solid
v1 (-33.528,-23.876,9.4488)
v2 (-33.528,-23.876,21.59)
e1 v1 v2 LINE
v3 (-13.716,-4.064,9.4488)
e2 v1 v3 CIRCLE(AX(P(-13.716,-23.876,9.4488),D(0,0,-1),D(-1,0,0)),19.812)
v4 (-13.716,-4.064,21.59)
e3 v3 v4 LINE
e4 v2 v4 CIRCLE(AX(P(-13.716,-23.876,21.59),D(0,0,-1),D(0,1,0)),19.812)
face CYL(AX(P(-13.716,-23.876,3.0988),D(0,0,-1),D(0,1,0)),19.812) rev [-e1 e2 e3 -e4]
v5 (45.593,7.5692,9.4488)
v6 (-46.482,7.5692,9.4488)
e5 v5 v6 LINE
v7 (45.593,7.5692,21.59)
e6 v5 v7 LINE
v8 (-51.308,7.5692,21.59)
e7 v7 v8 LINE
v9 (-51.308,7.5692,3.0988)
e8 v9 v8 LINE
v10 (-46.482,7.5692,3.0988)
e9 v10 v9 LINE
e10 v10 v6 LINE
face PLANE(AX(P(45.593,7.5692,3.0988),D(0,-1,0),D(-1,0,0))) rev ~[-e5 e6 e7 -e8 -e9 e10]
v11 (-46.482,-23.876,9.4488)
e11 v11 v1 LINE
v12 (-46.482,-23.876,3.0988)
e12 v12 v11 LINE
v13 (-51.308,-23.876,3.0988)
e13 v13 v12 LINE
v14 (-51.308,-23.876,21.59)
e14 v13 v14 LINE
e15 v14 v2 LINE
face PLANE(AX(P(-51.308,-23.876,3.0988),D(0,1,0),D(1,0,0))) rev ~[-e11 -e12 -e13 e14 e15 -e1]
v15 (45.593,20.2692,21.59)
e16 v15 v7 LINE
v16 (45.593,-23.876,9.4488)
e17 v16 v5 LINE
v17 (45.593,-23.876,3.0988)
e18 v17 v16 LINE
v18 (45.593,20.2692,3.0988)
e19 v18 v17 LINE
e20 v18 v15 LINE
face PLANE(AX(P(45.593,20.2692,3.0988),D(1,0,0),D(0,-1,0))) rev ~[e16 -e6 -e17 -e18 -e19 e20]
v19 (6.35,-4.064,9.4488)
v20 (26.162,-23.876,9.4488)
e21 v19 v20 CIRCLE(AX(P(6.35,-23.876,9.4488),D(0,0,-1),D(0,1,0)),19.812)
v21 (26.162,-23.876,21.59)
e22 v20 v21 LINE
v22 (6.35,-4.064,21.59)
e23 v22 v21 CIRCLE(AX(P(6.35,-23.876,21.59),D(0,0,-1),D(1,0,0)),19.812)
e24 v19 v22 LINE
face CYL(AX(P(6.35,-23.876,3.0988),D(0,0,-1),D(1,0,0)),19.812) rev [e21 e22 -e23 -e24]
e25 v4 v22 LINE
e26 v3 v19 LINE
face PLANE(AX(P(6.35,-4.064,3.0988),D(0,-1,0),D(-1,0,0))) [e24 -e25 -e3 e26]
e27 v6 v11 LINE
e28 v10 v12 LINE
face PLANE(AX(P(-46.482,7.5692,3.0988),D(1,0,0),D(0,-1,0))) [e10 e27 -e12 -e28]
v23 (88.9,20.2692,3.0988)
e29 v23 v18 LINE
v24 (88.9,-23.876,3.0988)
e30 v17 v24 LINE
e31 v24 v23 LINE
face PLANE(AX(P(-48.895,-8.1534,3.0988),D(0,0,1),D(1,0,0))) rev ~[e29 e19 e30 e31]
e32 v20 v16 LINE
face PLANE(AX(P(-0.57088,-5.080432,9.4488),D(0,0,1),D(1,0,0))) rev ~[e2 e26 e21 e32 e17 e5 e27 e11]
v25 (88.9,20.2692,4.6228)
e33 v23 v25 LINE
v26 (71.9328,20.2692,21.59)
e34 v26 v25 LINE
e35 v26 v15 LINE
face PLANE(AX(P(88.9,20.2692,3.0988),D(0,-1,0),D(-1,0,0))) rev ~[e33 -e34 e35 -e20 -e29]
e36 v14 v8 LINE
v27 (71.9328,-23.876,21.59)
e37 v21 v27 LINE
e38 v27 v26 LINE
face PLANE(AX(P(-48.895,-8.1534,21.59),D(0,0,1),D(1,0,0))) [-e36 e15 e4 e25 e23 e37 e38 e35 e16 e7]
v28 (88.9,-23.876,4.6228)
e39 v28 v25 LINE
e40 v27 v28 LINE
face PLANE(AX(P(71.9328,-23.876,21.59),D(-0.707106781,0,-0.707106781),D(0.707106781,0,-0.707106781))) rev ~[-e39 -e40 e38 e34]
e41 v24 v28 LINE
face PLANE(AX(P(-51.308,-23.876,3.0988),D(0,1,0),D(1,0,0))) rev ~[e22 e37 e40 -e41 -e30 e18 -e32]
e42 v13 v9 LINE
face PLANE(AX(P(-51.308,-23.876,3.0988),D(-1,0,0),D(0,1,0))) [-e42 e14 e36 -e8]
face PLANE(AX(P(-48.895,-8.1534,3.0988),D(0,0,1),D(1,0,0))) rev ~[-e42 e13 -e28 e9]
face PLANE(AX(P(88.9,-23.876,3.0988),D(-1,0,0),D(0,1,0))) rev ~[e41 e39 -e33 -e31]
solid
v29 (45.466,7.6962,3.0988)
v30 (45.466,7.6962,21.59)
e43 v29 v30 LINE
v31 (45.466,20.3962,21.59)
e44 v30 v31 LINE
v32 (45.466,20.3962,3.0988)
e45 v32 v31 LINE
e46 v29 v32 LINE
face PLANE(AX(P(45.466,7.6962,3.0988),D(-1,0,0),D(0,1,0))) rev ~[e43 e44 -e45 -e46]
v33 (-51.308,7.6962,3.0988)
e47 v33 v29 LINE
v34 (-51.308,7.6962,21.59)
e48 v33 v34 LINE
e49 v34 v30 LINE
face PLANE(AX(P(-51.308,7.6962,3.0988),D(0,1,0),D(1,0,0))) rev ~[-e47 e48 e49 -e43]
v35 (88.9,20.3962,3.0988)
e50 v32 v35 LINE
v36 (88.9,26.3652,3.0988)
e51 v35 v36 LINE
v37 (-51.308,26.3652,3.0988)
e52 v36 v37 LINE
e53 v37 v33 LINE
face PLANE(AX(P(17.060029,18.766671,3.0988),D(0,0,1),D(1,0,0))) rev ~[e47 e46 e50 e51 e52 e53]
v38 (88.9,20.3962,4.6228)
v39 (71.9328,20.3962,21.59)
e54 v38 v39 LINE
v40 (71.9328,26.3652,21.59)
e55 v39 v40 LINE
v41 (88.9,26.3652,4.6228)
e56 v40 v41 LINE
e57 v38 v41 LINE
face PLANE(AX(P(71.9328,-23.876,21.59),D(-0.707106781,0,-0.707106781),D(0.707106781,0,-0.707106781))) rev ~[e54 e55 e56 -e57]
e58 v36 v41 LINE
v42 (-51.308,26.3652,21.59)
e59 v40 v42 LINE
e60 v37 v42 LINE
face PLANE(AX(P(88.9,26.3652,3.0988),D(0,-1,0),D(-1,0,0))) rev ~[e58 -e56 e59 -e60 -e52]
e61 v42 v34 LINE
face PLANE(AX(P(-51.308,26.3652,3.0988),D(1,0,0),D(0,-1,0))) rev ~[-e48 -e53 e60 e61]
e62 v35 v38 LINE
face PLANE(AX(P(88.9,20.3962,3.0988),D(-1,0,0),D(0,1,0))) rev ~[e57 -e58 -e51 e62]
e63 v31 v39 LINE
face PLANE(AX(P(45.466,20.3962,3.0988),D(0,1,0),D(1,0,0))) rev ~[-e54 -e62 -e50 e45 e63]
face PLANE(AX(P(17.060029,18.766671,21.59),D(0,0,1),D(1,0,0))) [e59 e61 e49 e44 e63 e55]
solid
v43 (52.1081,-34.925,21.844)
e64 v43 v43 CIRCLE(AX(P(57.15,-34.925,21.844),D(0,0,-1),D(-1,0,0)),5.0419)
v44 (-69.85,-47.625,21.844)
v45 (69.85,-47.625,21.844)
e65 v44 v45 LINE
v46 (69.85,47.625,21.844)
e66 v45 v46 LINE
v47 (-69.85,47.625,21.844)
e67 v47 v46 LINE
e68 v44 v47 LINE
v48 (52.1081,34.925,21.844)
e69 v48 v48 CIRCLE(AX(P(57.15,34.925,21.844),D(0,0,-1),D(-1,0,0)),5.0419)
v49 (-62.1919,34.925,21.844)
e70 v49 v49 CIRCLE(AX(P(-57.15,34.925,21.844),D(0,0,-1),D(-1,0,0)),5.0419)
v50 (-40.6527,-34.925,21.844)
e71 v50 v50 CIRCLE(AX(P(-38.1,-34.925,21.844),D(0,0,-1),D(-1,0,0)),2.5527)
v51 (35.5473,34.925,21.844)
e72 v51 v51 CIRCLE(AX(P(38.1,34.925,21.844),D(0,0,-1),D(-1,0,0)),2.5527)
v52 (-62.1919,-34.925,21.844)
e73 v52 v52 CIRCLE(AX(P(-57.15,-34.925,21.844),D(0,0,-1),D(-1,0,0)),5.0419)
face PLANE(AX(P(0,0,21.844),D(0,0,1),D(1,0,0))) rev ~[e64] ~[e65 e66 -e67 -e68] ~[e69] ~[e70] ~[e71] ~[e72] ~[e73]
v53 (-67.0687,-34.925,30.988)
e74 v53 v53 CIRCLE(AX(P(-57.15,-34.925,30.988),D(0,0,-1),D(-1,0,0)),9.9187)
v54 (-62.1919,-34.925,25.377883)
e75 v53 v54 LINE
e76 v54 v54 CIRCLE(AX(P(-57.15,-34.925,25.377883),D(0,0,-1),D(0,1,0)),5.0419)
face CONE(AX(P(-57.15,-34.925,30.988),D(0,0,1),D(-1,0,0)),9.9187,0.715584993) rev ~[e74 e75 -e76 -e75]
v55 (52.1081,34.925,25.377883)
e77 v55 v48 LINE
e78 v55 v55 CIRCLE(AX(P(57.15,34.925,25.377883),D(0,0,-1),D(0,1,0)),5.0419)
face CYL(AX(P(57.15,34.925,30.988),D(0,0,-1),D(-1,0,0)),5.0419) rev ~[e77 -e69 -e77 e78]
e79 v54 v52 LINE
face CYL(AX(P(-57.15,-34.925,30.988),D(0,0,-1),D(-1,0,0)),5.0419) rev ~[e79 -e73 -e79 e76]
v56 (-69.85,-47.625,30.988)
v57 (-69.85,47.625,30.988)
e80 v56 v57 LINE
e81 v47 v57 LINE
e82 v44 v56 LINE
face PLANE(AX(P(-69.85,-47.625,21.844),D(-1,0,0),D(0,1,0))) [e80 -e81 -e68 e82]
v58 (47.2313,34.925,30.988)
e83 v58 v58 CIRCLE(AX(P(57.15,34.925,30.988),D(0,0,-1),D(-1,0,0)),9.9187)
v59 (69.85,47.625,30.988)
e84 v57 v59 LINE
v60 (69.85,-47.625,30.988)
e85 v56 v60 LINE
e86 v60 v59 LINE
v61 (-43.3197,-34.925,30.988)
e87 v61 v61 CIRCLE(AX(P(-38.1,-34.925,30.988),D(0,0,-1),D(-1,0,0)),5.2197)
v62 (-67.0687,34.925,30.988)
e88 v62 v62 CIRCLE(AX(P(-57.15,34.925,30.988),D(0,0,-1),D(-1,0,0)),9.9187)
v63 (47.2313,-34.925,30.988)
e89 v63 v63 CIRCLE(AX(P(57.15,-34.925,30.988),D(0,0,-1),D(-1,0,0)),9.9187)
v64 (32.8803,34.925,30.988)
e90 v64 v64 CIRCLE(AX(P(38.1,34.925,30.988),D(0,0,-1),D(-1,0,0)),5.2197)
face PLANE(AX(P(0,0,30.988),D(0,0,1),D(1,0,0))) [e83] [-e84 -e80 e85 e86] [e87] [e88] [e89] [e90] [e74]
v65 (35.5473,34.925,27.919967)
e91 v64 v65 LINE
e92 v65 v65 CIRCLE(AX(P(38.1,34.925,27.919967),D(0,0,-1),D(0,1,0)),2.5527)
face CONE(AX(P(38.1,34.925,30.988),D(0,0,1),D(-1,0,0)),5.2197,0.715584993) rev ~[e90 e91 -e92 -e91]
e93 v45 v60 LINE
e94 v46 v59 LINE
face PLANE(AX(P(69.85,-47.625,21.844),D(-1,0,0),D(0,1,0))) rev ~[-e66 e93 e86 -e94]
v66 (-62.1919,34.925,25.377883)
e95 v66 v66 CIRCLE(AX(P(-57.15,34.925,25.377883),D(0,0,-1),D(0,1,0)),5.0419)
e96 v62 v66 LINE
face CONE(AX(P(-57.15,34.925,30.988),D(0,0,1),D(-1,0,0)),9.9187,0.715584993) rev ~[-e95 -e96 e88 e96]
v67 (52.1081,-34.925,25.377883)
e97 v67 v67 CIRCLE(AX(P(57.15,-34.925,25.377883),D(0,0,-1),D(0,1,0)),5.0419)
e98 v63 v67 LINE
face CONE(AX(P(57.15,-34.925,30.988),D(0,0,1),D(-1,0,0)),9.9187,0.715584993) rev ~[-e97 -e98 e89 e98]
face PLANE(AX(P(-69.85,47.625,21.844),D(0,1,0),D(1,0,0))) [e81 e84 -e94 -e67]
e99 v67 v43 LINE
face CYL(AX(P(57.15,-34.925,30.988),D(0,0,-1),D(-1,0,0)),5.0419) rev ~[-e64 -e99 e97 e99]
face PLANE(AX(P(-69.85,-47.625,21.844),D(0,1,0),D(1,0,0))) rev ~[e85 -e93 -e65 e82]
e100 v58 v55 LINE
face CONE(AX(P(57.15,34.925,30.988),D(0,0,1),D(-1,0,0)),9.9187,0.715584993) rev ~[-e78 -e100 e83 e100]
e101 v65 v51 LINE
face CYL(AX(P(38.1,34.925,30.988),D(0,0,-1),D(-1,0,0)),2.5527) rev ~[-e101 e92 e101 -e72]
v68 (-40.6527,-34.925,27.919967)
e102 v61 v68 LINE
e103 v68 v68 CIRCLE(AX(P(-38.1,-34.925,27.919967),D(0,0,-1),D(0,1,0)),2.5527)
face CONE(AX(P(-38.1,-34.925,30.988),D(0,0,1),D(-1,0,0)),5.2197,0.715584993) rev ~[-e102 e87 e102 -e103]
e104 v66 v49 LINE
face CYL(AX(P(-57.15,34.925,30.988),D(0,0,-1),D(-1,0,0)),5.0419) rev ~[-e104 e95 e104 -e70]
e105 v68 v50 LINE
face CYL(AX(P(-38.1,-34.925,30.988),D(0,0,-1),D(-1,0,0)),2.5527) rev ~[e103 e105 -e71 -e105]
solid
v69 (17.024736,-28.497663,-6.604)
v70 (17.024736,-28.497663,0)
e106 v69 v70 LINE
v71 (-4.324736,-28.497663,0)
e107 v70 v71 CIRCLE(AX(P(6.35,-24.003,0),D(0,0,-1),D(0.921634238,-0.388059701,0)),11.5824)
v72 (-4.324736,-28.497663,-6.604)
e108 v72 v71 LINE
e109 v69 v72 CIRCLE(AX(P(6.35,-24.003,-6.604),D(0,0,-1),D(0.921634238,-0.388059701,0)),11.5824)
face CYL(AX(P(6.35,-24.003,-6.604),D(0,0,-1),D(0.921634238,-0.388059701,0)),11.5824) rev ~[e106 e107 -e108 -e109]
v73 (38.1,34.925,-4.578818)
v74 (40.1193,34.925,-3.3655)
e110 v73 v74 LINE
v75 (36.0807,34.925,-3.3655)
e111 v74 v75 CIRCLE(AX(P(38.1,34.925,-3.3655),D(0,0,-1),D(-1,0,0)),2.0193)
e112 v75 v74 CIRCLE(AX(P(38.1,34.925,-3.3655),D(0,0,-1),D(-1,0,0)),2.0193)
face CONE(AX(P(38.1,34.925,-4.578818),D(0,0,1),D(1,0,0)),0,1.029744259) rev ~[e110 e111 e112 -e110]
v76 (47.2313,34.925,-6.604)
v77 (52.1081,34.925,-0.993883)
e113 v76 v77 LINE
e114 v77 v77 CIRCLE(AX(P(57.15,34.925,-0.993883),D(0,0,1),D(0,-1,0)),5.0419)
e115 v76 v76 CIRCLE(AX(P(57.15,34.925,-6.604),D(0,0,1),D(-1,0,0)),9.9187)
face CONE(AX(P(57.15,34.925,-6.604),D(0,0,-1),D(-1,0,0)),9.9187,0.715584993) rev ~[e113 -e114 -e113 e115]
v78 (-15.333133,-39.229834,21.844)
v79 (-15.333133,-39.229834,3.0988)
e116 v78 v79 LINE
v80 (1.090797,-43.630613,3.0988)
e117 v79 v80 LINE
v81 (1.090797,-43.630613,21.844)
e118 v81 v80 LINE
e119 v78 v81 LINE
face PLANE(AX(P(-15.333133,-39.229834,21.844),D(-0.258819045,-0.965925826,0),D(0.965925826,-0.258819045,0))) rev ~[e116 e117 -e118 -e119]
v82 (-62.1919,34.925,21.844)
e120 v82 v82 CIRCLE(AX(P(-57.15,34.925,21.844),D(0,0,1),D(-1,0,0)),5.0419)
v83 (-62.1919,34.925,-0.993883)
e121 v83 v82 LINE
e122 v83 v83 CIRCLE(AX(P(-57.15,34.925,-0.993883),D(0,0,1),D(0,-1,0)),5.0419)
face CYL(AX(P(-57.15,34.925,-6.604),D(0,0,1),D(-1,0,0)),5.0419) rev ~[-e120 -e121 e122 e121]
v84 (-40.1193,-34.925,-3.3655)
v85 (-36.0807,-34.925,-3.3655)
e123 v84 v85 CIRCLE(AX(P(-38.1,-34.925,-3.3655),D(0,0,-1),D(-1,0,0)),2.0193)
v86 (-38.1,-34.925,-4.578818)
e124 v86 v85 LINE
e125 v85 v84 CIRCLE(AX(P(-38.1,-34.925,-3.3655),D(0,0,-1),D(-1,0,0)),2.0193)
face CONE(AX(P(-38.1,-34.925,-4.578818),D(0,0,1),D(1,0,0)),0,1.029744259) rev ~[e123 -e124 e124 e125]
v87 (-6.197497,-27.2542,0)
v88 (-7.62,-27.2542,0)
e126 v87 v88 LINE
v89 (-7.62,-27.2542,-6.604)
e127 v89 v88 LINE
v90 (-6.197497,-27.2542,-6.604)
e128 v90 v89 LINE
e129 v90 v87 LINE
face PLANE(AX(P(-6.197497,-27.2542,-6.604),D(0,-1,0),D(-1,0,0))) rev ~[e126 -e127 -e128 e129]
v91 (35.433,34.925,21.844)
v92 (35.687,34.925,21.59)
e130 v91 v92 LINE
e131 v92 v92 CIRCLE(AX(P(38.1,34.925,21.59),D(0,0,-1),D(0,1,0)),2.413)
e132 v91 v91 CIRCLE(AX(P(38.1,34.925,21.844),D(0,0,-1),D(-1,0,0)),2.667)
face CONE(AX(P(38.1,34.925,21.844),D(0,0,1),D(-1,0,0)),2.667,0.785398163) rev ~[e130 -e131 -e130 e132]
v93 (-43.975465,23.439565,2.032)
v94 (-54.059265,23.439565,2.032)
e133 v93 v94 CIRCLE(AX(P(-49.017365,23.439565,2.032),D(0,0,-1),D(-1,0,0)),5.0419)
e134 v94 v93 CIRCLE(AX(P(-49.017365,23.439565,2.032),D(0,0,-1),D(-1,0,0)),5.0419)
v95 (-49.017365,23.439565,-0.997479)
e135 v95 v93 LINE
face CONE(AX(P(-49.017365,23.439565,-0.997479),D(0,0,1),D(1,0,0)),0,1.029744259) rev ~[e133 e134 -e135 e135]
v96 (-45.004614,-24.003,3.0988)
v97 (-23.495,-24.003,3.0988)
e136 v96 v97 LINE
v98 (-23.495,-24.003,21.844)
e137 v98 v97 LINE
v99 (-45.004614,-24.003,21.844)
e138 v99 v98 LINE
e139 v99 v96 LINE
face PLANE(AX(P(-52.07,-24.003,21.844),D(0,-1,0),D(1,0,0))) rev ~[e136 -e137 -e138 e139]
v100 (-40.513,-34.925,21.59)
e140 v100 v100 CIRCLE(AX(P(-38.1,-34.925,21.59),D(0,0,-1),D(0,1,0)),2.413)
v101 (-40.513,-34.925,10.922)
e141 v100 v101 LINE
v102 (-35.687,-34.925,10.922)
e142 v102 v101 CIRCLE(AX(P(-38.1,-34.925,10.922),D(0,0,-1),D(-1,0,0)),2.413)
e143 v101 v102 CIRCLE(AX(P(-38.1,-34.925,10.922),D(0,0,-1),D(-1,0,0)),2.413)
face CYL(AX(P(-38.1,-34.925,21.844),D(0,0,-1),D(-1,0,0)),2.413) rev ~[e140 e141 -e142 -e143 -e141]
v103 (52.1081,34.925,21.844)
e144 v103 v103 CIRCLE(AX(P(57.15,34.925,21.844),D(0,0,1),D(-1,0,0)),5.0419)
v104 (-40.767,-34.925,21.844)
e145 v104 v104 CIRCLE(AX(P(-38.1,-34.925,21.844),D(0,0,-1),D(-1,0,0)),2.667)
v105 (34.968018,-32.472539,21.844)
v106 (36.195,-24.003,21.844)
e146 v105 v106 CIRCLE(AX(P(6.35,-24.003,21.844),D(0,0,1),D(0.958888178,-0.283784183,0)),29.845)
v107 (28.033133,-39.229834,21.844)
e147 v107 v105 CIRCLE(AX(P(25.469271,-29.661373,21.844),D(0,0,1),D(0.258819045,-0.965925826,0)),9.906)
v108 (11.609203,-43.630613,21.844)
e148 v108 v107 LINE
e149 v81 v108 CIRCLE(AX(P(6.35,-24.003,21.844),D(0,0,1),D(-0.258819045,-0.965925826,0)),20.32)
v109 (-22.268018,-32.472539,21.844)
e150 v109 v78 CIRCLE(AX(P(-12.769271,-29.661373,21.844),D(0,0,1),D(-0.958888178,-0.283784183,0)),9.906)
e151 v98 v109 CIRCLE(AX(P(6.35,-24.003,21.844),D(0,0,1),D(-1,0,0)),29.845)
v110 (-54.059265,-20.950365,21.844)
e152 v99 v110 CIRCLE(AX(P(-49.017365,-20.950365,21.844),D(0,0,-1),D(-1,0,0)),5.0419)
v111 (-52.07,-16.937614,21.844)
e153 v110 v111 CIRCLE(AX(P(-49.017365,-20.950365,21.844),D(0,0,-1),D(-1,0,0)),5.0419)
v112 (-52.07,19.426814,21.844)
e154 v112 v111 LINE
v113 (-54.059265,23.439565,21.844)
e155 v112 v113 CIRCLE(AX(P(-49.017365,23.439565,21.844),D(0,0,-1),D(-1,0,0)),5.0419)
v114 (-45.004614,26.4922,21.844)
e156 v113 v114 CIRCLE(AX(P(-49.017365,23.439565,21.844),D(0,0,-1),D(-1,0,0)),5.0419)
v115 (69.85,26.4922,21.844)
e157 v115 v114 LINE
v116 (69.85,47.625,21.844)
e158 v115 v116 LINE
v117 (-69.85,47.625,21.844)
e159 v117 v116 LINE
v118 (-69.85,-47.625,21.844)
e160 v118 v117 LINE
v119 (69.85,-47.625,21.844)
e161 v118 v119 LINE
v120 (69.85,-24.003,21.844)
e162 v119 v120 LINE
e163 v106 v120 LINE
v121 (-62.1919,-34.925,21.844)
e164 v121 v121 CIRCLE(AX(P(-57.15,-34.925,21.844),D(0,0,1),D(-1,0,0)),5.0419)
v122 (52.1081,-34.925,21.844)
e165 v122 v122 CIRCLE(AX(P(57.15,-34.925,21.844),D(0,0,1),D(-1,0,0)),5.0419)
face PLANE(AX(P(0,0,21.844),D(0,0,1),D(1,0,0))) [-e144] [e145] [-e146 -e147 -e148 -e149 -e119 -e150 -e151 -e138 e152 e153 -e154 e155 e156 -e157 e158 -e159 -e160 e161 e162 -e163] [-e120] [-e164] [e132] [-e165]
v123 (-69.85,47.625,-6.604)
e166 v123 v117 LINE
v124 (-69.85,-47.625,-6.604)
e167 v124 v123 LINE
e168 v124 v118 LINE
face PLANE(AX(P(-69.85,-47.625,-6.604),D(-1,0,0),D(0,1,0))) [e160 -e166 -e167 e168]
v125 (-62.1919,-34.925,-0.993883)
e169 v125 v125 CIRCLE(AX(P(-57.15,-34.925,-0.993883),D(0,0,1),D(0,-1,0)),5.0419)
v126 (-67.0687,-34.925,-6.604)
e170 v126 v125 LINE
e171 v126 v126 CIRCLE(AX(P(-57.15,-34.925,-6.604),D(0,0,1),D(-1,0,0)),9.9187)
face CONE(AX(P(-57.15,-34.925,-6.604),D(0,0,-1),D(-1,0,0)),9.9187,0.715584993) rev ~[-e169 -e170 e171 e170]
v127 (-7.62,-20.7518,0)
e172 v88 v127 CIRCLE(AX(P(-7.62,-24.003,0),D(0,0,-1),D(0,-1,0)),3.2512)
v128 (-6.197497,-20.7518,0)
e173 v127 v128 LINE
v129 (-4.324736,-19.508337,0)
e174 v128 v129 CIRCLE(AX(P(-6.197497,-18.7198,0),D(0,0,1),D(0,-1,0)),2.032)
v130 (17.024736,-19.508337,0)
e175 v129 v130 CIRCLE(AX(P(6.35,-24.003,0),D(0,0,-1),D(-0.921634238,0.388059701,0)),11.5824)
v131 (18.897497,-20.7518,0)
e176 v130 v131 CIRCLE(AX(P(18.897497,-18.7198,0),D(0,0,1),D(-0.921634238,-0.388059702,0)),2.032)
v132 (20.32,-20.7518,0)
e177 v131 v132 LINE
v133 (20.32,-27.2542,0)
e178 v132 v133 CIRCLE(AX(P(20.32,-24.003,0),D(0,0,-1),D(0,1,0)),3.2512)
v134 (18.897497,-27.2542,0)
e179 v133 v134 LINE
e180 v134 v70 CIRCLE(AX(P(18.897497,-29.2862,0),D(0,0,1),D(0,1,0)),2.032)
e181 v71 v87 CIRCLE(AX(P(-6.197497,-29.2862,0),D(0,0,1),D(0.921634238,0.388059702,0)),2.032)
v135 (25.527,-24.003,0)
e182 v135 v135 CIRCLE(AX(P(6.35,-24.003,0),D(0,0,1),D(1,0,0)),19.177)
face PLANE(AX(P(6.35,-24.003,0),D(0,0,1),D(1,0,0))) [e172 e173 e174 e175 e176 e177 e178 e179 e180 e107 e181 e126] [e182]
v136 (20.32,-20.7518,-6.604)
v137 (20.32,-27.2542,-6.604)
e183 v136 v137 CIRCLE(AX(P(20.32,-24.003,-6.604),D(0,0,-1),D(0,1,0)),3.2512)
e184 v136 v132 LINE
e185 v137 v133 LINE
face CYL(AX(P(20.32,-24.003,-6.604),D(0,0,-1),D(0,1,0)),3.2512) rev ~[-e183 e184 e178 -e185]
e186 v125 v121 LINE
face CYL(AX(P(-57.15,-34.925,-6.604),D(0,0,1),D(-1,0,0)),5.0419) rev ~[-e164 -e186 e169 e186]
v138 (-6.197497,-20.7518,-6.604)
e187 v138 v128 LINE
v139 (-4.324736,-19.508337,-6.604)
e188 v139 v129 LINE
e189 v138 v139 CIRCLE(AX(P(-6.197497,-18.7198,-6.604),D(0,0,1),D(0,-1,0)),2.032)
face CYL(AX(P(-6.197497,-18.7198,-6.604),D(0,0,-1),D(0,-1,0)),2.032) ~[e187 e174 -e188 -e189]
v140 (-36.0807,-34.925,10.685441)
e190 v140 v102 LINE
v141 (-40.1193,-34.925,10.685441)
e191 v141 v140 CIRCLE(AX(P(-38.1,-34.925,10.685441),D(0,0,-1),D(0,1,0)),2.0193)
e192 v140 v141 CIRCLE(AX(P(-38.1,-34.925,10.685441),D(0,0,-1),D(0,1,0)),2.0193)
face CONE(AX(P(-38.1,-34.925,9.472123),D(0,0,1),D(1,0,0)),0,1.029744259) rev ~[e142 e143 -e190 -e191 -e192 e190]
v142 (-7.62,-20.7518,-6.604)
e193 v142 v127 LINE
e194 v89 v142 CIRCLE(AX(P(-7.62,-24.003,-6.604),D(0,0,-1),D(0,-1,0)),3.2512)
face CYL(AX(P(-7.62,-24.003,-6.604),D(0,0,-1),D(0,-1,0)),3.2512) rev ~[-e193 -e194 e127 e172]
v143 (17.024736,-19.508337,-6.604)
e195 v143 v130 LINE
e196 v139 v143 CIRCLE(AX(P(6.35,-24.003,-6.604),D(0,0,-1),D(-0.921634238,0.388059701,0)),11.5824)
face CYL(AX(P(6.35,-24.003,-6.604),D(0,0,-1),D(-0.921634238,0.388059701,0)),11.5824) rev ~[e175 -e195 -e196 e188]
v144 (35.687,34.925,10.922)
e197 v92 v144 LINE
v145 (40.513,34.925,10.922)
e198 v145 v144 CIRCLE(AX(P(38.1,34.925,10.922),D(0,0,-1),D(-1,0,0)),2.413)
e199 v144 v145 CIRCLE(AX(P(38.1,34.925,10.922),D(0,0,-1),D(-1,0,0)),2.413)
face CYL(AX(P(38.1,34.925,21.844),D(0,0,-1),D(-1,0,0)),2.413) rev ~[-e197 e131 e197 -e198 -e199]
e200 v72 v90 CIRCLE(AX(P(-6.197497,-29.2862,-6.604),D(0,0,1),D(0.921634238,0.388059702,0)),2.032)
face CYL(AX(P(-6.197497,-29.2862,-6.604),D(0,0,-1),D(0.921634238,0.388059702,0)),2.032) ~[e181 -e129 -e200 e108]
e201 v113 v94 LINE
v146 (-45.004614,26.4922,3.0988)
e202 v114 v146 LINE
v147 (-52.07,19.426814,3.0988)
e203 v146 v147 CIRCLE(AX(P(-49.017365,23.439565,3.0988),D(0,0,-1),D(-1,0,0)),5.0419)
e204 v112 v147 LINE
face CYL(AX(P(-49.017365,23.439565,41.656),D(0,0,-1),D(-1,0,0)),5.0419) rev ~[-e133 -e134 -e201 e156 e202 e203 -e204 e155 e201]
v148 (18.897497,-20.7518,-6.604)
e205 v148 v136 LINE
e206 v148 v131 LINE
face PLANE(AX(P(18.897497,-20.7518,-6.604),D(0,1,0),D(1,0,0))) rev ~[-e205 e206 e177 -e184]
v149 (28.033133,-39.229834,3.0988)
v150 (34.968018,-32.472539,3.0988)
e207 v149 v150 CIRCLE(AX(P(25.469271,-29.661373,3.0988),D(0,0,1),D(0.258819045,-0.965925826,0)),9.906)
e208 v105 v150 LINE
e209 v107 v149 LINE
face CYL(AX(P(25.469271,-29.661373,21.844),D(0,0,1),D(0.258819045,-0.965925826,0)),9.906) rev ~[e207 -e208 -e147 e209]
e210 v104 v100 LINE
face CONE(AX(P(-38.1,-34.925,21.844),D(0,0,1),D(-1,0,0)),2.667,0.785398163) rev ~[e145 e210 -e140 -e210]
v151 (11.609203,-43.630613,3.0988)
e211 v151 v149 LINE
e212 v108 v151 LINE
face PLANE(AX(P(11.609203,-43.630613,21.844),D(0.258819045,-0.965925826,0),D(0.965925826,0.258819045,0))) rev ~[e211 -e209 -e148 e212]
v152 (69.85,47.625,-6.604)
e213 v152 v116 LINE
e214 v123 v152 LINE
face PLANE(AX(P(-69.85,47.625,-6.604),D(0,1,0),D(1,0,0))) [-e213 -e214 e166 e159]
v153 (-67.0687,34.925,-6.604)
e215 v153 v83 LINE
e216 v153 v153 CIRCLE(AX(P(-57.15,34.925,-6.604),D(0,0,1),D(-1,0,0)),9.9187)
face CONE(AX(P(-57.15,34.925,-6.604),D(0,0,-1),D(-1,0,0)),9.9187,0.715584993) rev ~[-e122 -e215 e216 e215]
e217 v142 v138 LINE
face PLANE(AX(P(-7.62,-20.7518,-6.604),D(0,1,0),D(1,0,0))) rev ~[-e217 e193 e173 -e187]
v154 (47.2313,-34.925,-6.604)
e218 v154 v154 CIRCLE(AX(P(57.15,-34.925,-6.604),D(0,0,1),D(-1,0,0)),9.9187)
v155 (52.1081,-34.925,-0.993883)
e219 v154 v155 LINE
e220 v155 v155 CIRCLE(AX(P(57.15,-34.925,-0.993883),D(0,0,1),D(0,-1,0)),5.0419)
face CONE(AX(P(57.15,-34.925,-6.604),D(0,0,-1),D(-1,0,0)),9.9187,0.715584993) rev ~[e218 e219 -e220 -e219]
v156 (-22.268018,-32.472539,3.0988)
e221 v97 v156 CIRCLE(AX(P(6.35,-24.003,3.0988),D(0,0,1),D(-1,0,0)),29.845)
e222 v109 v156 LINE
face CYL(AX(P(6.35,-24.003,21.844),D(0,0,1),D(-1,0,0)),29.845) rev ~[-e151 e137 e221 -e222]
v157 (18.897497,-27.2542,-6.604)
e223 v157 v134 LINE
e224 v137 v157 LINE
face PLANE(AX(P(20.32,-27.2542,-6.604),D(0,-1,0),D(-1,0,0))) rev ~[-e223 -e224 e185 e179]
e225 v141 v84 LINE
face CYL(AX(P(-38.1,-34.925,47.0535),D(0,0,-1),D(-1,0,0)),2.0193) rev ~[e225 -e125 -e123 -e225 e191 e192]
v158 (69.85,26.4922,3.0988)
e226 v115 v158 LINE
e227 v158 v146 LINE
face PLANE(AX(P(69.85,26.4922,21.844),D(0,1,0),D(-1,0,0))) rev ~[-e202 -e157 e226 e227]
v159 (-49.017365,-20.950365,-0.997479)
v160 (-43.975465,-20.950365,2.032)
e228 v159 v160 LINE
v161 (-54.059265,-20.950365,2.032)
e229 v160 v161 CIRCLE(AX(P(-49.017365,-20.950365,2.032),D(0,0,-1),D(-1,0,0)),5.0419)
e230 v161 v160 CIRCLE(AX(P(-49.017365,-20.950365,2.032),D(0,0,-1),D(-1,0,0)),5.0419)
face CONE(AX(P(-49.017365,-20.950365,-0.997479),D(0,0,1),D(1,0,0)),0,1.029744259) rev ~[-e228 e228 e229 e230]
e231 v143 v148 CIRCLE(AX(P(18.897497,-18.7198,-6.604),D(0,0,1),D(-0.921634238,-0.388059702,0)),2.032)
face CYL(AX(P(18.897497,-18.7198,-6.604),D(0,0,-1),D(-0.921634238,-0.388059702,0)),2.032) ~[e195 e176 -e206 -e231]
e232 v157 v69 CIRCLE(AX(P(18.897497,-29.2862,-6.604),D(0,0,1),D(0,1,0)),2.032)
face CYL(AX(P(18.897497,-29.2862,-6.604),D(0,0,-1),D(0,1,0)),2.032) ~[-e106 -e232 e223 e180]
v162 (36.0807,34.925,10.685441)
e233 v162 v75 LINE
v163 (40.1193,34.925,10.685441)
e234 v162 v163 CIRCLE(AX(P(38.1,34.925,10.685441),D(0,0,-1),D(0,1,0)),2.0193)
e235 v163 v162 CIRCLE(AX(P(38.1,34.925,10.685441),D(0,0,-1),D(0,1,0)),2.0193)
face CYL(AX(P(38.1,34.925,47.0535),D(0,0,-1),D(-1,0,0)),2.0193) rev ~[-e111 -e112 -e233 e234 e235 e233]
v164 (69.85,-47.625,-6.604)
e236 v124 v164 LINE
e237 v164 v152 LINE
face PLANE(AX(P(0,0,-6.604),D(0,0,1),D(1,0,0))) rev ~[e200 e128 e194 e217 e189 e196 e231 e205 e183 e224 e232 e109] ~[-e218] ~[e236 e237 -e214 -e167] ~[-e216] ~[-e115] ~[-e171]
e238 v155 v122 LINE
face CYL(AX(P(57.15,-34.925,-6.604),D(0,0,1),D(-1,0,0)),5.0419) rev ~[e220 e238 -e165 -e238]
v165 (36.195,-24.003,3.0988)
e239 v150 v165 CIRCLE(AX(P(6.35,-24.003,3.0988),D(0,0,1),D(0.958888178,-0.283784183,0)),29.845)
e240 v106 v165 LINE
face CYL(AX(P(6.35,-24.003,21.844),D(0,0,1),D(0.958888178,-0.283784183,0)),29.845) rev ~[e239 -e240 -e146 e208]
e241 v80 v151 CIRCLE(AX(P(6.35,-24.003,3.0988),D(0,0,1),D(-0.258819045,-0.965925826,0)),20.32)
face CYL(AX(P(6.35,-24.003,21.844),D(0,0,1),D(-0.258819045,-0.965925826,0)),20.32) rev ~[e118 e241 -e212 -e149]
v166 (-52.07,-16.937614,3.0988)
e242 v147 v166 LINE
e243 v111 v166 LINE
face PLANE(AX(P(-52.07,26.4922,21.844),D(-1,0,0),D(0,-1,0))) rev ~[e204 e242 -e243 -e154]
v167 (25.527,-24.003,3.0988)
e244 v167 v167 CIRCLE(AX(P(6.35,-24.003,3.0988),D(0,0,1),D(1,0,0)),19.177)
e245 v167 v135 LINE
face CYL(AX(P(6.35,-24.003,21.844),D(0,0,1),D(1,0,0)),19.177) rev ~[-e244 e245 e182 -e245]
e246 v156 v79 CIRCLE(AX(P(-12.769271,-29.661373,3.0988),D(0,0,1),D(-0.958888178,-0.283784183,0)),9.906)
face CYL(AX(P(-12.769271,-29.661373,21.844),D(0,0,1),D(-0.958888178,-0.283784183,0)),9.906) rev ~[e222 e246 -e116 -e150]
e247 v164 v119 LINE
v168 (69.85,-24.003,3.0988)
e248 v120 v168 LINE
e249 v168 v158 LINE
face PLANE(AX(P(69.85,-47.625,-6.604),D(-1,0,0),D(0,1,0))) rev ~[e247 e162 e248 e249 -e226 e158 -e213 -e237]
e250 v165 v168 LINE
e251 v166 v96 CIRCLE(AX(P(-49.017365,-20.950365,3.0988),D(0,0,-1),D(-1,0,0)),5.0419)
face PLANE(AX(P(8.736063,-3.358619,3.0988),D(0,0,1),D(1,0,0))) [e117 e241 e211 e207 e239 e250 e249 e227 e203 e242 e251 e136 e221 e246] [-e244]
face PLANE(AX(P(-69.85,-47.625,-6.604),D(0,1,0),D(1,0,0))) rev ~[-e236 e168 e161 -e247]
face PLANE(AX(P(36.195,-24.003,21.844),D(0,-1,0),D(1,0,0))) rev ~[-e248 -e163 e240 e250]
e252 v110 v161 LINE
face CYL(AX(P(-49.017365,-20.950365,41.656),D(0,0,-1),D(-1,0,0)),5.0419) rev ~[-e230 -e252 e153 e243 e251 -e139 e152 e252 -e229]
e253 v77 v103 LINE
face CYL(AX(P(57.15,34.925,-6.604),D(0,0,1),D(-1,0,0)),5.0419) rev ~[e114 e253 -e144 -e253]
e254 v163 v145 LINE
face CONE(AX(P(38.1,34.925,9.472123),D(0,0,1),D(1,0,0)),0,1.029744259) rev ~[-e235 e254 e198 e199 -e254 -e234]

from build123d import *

# Parameters (mm, degrees)
F1_W            = 139.7
F1_H            = 95.25
F2_DEPTH        = 28.448
F3_D            = 10.0838
F3_CSINK_D      = 19.8374
F3_CSINK_ANGLE  = 82
F4_R            = 19.177
F5_DEPTH        = 21.844
F6_DEPTH        = 18.7452
F7_D            = 10.0838
F7_DEPTH        = 19.812
F7_TIP          = 3.0294791551
F8_D            = 4.0386
F8_DEPTH        = 25.2095
F8_TIP          = 1.213317848
F9_D            = 4.826
F9_DEPTH        = 10.922
F9_CSINK_D      = 5.334
F9_CSINK_ANGLE  = 90
F9_TIP          = 1.4498766737
F10_W           = 139.7
F10_H           = 95.25
F11_DEPTH       = 9.144
F13_D           = 10.0838
F13_CSINK_D     = 19.8374
F13_CSINK_ANGLE = 82
F14_D           = 5.1054
F14_CSINK_D     = 10.4394
F14_CSINK_ANGLE = 82
F16_DEPTH       = 18.4912
F17_W           = 4.826
F17_H           = 31.4452
F18_DEPTH       = 18.4912
F20_DEPTH       = 71.502
F21_DEPTH       = 27.8902
F22_DEPTH       = 6.35


with BuildPart() as f2:
    # F1 (on offset) → F2 (new body)
    with BuildSketch(Plane.XY.offset(-6.604)):
        Rectangle(F1_W, F1_H)
        with BuildLine():
            ThreePointArc((17.0247363946, -28.4976626866), (6.35, -35.5854), (-4.3247363946, -28.4976626866))
            ThreePointArc((-4.3247363946, -28.4976626866), (-5.0735051329, -27.5933722148), (-6.1974971656, -27.2542))
            Line((-6.1974971656, -27.2542), (-7.62, -27.2542))
            ThreePointArc((-7.62, -27.2542), (-10.8712, -24.003), (-7.62, -20.7518))
            Line((-7.62, -20.7518), (-6.1974971656, -20.7518))
            ThreePointArc((-6.1974971656, -20.7518), (-5.0735051329, -20.4126277852), (-4.3247363946, -19.5083373134))
            ThreePointArc((-4.3247363946, -19.5083373134), (6.35, -12.4206), (17.0247363946, -19.5083373134))
            ThreePointArc((17.0247363946, -19.5083373134), (17.7735051329, -20.4126277852), (18.8974971656, -20.7518))
            Line((18.8974971656, -20.7518), (20.32, -20.7518))
            ThreePointArc((20.32, -20.7518), (23.5712, -24.003), (20.32, -27.2542))
            Line((20.32, -27.2542), (18.8974971656, -27.2542))
            ThreePointArc((18.8974971656, -27.2542), (17.7735051329, -27.5933722148), (17.0247363946, -28.4976626866))
        make_face(mode=Mode.SUBTRACT)
    extrude(amount=F2_DEPTH)

    # F3 (through all)
    with Locations(Plane(origin=(0, 0, -6.604), x_dir=(1, 0, 0), z_dir=(0, 0, -1))):
        with Locations((-57.15, 34.925), (57.15, 34.925), (57.15, -34.925), (-57.15, -34.925)):
            CounterSinkHole(F3_D / 2, F3_CSINK_D / 2, counter_sink_angle=F3_CSINK_ANGLE)

    # F4 (on face) → F5 (cut)
    with BuildSketch(Plane.XY.offset(21.844)):
        with Locations((6.35, -24.003)):
            Circle(F4_R)
        with BuildLine():
            ThreePointArc((18.8974971656, -27.2542), (17.7735051329, -27.5933722148), (17.0247363946, -28.4976626866))
            ThreePointArc((17.0247363946, -28.4976626866), (6.35, -35.5854), (-4.3247363946, -28.4976626866))
            ThreePointArc((-4.3247363946, -28.4976626866), (-5.0735051329, -27.5933722148), (-6.1974971656, -27.2542))
            Line((-6.1974971656, -27.2542), (-7.62, -27.2542))
            ThreePointArc((-7.62, -27.2542), (-10.8712, -24.003), (-7.62, -20.7518))
            Line((-7.62, -20.7518), (-6.1974971656, -20.7518))
            ThreePointArc((-6.1974971656, -20.7518), (-5.0735051329, -20.4126277852), (-4.3247363946, -19.5083373134))
            ThreePointArc((-4.3247363946, -19.5083373134), (6.35, -12.4206), (17.0247363946, -19.5083373134))
            ThreePointArc((17.0247363946, -19.5083373134), (17.7735051329, -20.4126277852), (18.8974971656, -20.7518))
            Line((18.8974971656, -20.7518), (20.32, -20.7518))
            ThreePointArc((20.32, -20.7518), (23.5712, -24.003), (20.32, -27.2542))
            Line((20.32, -27.2542), (18.8974971656, -27.2542))
        make_face(mode=Mode.SUBTRACT)
    extrude(amount=-F5_DEPTH, mode=Mode.SUBTRACT)

    # F4 (on face) → F6 (cut)
    with BuildSketch(Plane.XY.offset(21.844)):
        with BuildLine():
            Line((69.85, -24.003), (69.85, 26.4922))
            Line((69.85, 26.4922), (-52.07, 26.4922))
            Line((-52.07, 26.4922), (-52.07, -24.003))
            Line((-52.07, -24.003), (-23.495, -24.003))
            ThreePointArc((-23.495, -24.003), (-23.1866616456, -28.2819769608), (-22.2680176692, -32.4725389298))
            ThreePointArc((-22.2680176692, -32.4725389298), (-19.682438944, -36.7562266011), (-15.3331328398, -39.2298340521))
            Line((-15.3331328398, -39.2298340521), (1.0907970035, -43.6306127902))
            ThreePointArc((1.0907970035, -43.6306127902), (6.35, -44.323), (11.6092029965, -43.6306127902))
            Line((11.6092029965, -43.6306127902), (28.0331328398, -39.2298340521))
            ThreePointArc((28.0331328398, -39.2298340521), (32.382438944, -36.7562266011), (34.9680176692, -32.4725389298))
            ThreePointArc((34.9680176692, -32.4725389298), (35.8866616456, -28.2819769608), (36.195, -24.003))
            Line((36.195, -24.003), (69.85, -24.003))
        make_face()
        with Locations((6.35, -24.003)):
            Circle(F4_R, mode=Mode.SUBTRACT)
    extrude(amount=-F6_DEPTH, mode=Mode.SUBTRACT)

    # F7
    with Locations(Plane.XY.offset(21.844)):
        with Locations((-49.0173654173, 23.4395654173), (-49.0173654173, -20.9503654173)):
            Hole(F7_D / 2, depth=F7_DEPTH)
            with Locations((0, 0, -(F7_DEPTH + F7_TIP / 2))):  # 118° drill point
                Cone(0, F7_D / 2, F7_TIP, mode=Mode.SUBTRACT)

    # F8
    with Locations(Plane.XY.offset(21.844)):
        with Locations((38.1, 34.925), (-38.1, -34.925)):
            Hole(F8_D / 2, depth=F8_DEPTH)
            with Locations((0, 0, -(F8_DEPTH + F8_TIP / 2))):  # 118° drill point
                Cone(0, F8_D / 2, F8_TIP, mode=Mode.SUBTRACT)

    # F9
    with Locations(Plane.XY.offset(21.844)):
        with Locations((38.1, 34.925), (-38.1, -34.925)):
            CounterSinkHole(F9_D / 2, F9_CSINK_D / 2, depth=F9_DEPTH, counter_sink_angle=F9_CSINK_ANGLE)
            with Locations((0, 0, -(F9_DEPTH + F9_TIP / 2))):  # 118° drill point
                Cone(0, F9_D / 2, F9_TIP, mode=Mode.SUBTRACT)


with BuildPart() as f11:
    # F10 (on face) → F11 (new body)
    with BuildSketch(Plane.XY.offset(21.844)):
        Rectangle(F10_W, F10_H)
    extrude(amount=F11_DEPTH)

    # F13 (through all)
    with Locations(Plane.XY.offset(30.988)):
        with Locations((-57.15, 34.925), (57.15, 34.925), (57.15, -34.925), (-57.15, -34.925)):
            CounterSinkHole(F13_D / 2, F13_CSINK_D / 2, counter_sink_angle=F13_CSINK_ANGLE)

    # F14 (through all)
    with Locations(Plane.XY.offset(30.988)):
        with Locations((38.1, 34.925), (-38.1, -34.925)):
            CounterSinkHole(F14_D / 2, F14_CSINK_D / 2, counter_sink_angle=F14_CSINK_ANGLE)


with BuildPart() as f16:
    # F15 (on face) → F16 (new body)
    with BuildSketch(Plane.XY.offset(3.0988)):
        Polygon((-51.308, 26.3652), (-51.308, 7.6962), (45.466, 7.6962), (45.466, 20.3962), (88.9, 20.3962), (88.9, 26.3652), align=None)
    extrude(amount=F16_DEPTH)


with BuildPart() as f18:
    # F17 (on face) → F18 (new body, through all)
    with BuildSketch(Plane.XY.offset(3.0988)):
        with Locations((-48.895, -8.1534)):
            Rectangle(F17_W, F17_H)
        with BuildLine():
            Line((45.593, 7.5692), (-46.482, 7.5692))
            Line((-46.482, 7.5692), (-46.482, -23.876))
            Line((-46.482, -23.876), (-33.528, -23.876))
            ThreePointArc((-33.528, -23.876), (-27.7251995489, -9.8668004511), (-13.716, -4.064))
            Line((-13.716, -4.064), (6.35, -4.064))
            ThreePointArc((6.35, -4.064), (20.3591995489, -9.8668004511), (26.162, -23.876))
            Line((26.162, -23.876), (45.593, -23.876))
            Line((45.593, -23.876), (45.593, 7.5692))
        make_face()
        Polygon((45.593, 20.2692), (45.593, 7.5692), (45.593, -23.876), (88.9, -23.876), (88.9, 20.2692), align=None)
        with BuildLine():
            ThreePointArc((-13.716, -4.064), (-27.7251995489, -9.8668004511), (-33.528, -23.876))
            Line((-33.528, -23.876), (26.162, -23.876))
            ThreePointArc((26.162, -23.876), (20.3591995489, -9.8668004511), (6.35, -4.064))
            Line((6.35, -4.064), (-13.716, -4.064))
        make_face()
    extrude(amount=F18_DEPTH)


with BuildPart() as f20_tool:
    # F19 (on face) → F20 (new body, through all)
    with BuildSketch(Plane.XZ.offset(23.876)):
        Polygon((88.9, 4.6228), (88.9, 21.59), (71.9328, 21.59), align=None)
    extrude(amount=-F20_DEPTH)


with BuildPart() as f16_1:
    add(f16.part)

    # F20: cut by f20_tool
    add(f20_tool.part, mode=Mode.SUBTRACT)


with BuildPart() as f18_1:
    add(f18.part)

    # F20: cut by f20_tool
    add(f20_tool.part, mode=Mode.SUBTRACT)

    # F17 (on face) → F21 (cut, through all)
    with BuildSketch(Plane.XY.offset(3.0988)):
        with BuildLine():
            Line((25.5265794656, -23.876), (26.162, -23.876))
            ThreePointArc((26.162, -23.876), (20.3591995489, -9.8668004511), (6.35, -4.064))
            Line((6.35, -4.064), (-13.716, -4.064))
            ThreePointArc((-13.716, -4.064), (-27.7251995489, -9.8668004511), (-33.528, -23.876))
            Line((-33.528, -23.876), (-12.8265794656, -23.876))
            ThreePointArc((-12.8265794656, -23.876), (6.35, -4.826), (25.5265794656, -23.876))
        make_face()
        with BuildLine():
            Line((-12.8265794656, -23.876), (25.5265794656, -23.876))
            ThreePointArc((25.5265794656, -23.876), (6.35, -4.826), (-12.8265794656, -23.876))
        make_face()
    extrude(amount=F21_DEPTH, mode=Mode.SUBTRACT)

    # F17 (on face) → F22 (cut)
    with BuildSketch(Plane.XY.offset(3.0988)):
        with BuildLine():
            Line((45.593, 7.5692), (-46.482, 7.5692))
            Line((-46.482, 7.5692), (-46.482, -16.5923064674))
            ThreePointArc((-46.482, -16.5923064674), (-44.6467925425, -18.4366334593), (-43.9754654173, -20.9503654173))
            ThreePointArc((-43.9754654173, -20.9503654173), (-44.2150671872, -22.4861672663), (-44.9110997295, -23.876))
            Line((-44.9110997295, -23.876), (-33.528, -23.876))
            ThreePointArc((-33.528, -23.876), (-27.7251995489, -9.8668004511), (-13.716, -4.064))
            Line((-13.716, -4.064), (6.35, -4.064))
            ThreePointArc((6.35, -4.064), (20.3591995489, -9.8668004511), (26.162, -23.876))
            Line((26.162, -23.876), (45.593, -23.876))
            Line((45.593, -23.876), (45.593, 7.5692))
        make_face()
        with BuildLine():
            ThreePointArc((-43.9754654173, -20.9503654173), (-44.6467925425, -18.4366334593), (-46.482, -16.5923064674))
            Line((-46.482, -16.5923064674), (-46.482, -23.876))
            Line((-46.482, -23.876), (-44.9110997295, -23.876))
            ThreePointArc((-44.9110997295, -23.876), (-44.2150671872, -22.4861672663), (-43.9754654173, -20.9503654173))
        make_face()
    extrude(amount=F22_DEPTH, mode=Mode.SUBTRACT)


solid = Compound([f2.part, f11.part, f16_1.part, f18_1.part])
